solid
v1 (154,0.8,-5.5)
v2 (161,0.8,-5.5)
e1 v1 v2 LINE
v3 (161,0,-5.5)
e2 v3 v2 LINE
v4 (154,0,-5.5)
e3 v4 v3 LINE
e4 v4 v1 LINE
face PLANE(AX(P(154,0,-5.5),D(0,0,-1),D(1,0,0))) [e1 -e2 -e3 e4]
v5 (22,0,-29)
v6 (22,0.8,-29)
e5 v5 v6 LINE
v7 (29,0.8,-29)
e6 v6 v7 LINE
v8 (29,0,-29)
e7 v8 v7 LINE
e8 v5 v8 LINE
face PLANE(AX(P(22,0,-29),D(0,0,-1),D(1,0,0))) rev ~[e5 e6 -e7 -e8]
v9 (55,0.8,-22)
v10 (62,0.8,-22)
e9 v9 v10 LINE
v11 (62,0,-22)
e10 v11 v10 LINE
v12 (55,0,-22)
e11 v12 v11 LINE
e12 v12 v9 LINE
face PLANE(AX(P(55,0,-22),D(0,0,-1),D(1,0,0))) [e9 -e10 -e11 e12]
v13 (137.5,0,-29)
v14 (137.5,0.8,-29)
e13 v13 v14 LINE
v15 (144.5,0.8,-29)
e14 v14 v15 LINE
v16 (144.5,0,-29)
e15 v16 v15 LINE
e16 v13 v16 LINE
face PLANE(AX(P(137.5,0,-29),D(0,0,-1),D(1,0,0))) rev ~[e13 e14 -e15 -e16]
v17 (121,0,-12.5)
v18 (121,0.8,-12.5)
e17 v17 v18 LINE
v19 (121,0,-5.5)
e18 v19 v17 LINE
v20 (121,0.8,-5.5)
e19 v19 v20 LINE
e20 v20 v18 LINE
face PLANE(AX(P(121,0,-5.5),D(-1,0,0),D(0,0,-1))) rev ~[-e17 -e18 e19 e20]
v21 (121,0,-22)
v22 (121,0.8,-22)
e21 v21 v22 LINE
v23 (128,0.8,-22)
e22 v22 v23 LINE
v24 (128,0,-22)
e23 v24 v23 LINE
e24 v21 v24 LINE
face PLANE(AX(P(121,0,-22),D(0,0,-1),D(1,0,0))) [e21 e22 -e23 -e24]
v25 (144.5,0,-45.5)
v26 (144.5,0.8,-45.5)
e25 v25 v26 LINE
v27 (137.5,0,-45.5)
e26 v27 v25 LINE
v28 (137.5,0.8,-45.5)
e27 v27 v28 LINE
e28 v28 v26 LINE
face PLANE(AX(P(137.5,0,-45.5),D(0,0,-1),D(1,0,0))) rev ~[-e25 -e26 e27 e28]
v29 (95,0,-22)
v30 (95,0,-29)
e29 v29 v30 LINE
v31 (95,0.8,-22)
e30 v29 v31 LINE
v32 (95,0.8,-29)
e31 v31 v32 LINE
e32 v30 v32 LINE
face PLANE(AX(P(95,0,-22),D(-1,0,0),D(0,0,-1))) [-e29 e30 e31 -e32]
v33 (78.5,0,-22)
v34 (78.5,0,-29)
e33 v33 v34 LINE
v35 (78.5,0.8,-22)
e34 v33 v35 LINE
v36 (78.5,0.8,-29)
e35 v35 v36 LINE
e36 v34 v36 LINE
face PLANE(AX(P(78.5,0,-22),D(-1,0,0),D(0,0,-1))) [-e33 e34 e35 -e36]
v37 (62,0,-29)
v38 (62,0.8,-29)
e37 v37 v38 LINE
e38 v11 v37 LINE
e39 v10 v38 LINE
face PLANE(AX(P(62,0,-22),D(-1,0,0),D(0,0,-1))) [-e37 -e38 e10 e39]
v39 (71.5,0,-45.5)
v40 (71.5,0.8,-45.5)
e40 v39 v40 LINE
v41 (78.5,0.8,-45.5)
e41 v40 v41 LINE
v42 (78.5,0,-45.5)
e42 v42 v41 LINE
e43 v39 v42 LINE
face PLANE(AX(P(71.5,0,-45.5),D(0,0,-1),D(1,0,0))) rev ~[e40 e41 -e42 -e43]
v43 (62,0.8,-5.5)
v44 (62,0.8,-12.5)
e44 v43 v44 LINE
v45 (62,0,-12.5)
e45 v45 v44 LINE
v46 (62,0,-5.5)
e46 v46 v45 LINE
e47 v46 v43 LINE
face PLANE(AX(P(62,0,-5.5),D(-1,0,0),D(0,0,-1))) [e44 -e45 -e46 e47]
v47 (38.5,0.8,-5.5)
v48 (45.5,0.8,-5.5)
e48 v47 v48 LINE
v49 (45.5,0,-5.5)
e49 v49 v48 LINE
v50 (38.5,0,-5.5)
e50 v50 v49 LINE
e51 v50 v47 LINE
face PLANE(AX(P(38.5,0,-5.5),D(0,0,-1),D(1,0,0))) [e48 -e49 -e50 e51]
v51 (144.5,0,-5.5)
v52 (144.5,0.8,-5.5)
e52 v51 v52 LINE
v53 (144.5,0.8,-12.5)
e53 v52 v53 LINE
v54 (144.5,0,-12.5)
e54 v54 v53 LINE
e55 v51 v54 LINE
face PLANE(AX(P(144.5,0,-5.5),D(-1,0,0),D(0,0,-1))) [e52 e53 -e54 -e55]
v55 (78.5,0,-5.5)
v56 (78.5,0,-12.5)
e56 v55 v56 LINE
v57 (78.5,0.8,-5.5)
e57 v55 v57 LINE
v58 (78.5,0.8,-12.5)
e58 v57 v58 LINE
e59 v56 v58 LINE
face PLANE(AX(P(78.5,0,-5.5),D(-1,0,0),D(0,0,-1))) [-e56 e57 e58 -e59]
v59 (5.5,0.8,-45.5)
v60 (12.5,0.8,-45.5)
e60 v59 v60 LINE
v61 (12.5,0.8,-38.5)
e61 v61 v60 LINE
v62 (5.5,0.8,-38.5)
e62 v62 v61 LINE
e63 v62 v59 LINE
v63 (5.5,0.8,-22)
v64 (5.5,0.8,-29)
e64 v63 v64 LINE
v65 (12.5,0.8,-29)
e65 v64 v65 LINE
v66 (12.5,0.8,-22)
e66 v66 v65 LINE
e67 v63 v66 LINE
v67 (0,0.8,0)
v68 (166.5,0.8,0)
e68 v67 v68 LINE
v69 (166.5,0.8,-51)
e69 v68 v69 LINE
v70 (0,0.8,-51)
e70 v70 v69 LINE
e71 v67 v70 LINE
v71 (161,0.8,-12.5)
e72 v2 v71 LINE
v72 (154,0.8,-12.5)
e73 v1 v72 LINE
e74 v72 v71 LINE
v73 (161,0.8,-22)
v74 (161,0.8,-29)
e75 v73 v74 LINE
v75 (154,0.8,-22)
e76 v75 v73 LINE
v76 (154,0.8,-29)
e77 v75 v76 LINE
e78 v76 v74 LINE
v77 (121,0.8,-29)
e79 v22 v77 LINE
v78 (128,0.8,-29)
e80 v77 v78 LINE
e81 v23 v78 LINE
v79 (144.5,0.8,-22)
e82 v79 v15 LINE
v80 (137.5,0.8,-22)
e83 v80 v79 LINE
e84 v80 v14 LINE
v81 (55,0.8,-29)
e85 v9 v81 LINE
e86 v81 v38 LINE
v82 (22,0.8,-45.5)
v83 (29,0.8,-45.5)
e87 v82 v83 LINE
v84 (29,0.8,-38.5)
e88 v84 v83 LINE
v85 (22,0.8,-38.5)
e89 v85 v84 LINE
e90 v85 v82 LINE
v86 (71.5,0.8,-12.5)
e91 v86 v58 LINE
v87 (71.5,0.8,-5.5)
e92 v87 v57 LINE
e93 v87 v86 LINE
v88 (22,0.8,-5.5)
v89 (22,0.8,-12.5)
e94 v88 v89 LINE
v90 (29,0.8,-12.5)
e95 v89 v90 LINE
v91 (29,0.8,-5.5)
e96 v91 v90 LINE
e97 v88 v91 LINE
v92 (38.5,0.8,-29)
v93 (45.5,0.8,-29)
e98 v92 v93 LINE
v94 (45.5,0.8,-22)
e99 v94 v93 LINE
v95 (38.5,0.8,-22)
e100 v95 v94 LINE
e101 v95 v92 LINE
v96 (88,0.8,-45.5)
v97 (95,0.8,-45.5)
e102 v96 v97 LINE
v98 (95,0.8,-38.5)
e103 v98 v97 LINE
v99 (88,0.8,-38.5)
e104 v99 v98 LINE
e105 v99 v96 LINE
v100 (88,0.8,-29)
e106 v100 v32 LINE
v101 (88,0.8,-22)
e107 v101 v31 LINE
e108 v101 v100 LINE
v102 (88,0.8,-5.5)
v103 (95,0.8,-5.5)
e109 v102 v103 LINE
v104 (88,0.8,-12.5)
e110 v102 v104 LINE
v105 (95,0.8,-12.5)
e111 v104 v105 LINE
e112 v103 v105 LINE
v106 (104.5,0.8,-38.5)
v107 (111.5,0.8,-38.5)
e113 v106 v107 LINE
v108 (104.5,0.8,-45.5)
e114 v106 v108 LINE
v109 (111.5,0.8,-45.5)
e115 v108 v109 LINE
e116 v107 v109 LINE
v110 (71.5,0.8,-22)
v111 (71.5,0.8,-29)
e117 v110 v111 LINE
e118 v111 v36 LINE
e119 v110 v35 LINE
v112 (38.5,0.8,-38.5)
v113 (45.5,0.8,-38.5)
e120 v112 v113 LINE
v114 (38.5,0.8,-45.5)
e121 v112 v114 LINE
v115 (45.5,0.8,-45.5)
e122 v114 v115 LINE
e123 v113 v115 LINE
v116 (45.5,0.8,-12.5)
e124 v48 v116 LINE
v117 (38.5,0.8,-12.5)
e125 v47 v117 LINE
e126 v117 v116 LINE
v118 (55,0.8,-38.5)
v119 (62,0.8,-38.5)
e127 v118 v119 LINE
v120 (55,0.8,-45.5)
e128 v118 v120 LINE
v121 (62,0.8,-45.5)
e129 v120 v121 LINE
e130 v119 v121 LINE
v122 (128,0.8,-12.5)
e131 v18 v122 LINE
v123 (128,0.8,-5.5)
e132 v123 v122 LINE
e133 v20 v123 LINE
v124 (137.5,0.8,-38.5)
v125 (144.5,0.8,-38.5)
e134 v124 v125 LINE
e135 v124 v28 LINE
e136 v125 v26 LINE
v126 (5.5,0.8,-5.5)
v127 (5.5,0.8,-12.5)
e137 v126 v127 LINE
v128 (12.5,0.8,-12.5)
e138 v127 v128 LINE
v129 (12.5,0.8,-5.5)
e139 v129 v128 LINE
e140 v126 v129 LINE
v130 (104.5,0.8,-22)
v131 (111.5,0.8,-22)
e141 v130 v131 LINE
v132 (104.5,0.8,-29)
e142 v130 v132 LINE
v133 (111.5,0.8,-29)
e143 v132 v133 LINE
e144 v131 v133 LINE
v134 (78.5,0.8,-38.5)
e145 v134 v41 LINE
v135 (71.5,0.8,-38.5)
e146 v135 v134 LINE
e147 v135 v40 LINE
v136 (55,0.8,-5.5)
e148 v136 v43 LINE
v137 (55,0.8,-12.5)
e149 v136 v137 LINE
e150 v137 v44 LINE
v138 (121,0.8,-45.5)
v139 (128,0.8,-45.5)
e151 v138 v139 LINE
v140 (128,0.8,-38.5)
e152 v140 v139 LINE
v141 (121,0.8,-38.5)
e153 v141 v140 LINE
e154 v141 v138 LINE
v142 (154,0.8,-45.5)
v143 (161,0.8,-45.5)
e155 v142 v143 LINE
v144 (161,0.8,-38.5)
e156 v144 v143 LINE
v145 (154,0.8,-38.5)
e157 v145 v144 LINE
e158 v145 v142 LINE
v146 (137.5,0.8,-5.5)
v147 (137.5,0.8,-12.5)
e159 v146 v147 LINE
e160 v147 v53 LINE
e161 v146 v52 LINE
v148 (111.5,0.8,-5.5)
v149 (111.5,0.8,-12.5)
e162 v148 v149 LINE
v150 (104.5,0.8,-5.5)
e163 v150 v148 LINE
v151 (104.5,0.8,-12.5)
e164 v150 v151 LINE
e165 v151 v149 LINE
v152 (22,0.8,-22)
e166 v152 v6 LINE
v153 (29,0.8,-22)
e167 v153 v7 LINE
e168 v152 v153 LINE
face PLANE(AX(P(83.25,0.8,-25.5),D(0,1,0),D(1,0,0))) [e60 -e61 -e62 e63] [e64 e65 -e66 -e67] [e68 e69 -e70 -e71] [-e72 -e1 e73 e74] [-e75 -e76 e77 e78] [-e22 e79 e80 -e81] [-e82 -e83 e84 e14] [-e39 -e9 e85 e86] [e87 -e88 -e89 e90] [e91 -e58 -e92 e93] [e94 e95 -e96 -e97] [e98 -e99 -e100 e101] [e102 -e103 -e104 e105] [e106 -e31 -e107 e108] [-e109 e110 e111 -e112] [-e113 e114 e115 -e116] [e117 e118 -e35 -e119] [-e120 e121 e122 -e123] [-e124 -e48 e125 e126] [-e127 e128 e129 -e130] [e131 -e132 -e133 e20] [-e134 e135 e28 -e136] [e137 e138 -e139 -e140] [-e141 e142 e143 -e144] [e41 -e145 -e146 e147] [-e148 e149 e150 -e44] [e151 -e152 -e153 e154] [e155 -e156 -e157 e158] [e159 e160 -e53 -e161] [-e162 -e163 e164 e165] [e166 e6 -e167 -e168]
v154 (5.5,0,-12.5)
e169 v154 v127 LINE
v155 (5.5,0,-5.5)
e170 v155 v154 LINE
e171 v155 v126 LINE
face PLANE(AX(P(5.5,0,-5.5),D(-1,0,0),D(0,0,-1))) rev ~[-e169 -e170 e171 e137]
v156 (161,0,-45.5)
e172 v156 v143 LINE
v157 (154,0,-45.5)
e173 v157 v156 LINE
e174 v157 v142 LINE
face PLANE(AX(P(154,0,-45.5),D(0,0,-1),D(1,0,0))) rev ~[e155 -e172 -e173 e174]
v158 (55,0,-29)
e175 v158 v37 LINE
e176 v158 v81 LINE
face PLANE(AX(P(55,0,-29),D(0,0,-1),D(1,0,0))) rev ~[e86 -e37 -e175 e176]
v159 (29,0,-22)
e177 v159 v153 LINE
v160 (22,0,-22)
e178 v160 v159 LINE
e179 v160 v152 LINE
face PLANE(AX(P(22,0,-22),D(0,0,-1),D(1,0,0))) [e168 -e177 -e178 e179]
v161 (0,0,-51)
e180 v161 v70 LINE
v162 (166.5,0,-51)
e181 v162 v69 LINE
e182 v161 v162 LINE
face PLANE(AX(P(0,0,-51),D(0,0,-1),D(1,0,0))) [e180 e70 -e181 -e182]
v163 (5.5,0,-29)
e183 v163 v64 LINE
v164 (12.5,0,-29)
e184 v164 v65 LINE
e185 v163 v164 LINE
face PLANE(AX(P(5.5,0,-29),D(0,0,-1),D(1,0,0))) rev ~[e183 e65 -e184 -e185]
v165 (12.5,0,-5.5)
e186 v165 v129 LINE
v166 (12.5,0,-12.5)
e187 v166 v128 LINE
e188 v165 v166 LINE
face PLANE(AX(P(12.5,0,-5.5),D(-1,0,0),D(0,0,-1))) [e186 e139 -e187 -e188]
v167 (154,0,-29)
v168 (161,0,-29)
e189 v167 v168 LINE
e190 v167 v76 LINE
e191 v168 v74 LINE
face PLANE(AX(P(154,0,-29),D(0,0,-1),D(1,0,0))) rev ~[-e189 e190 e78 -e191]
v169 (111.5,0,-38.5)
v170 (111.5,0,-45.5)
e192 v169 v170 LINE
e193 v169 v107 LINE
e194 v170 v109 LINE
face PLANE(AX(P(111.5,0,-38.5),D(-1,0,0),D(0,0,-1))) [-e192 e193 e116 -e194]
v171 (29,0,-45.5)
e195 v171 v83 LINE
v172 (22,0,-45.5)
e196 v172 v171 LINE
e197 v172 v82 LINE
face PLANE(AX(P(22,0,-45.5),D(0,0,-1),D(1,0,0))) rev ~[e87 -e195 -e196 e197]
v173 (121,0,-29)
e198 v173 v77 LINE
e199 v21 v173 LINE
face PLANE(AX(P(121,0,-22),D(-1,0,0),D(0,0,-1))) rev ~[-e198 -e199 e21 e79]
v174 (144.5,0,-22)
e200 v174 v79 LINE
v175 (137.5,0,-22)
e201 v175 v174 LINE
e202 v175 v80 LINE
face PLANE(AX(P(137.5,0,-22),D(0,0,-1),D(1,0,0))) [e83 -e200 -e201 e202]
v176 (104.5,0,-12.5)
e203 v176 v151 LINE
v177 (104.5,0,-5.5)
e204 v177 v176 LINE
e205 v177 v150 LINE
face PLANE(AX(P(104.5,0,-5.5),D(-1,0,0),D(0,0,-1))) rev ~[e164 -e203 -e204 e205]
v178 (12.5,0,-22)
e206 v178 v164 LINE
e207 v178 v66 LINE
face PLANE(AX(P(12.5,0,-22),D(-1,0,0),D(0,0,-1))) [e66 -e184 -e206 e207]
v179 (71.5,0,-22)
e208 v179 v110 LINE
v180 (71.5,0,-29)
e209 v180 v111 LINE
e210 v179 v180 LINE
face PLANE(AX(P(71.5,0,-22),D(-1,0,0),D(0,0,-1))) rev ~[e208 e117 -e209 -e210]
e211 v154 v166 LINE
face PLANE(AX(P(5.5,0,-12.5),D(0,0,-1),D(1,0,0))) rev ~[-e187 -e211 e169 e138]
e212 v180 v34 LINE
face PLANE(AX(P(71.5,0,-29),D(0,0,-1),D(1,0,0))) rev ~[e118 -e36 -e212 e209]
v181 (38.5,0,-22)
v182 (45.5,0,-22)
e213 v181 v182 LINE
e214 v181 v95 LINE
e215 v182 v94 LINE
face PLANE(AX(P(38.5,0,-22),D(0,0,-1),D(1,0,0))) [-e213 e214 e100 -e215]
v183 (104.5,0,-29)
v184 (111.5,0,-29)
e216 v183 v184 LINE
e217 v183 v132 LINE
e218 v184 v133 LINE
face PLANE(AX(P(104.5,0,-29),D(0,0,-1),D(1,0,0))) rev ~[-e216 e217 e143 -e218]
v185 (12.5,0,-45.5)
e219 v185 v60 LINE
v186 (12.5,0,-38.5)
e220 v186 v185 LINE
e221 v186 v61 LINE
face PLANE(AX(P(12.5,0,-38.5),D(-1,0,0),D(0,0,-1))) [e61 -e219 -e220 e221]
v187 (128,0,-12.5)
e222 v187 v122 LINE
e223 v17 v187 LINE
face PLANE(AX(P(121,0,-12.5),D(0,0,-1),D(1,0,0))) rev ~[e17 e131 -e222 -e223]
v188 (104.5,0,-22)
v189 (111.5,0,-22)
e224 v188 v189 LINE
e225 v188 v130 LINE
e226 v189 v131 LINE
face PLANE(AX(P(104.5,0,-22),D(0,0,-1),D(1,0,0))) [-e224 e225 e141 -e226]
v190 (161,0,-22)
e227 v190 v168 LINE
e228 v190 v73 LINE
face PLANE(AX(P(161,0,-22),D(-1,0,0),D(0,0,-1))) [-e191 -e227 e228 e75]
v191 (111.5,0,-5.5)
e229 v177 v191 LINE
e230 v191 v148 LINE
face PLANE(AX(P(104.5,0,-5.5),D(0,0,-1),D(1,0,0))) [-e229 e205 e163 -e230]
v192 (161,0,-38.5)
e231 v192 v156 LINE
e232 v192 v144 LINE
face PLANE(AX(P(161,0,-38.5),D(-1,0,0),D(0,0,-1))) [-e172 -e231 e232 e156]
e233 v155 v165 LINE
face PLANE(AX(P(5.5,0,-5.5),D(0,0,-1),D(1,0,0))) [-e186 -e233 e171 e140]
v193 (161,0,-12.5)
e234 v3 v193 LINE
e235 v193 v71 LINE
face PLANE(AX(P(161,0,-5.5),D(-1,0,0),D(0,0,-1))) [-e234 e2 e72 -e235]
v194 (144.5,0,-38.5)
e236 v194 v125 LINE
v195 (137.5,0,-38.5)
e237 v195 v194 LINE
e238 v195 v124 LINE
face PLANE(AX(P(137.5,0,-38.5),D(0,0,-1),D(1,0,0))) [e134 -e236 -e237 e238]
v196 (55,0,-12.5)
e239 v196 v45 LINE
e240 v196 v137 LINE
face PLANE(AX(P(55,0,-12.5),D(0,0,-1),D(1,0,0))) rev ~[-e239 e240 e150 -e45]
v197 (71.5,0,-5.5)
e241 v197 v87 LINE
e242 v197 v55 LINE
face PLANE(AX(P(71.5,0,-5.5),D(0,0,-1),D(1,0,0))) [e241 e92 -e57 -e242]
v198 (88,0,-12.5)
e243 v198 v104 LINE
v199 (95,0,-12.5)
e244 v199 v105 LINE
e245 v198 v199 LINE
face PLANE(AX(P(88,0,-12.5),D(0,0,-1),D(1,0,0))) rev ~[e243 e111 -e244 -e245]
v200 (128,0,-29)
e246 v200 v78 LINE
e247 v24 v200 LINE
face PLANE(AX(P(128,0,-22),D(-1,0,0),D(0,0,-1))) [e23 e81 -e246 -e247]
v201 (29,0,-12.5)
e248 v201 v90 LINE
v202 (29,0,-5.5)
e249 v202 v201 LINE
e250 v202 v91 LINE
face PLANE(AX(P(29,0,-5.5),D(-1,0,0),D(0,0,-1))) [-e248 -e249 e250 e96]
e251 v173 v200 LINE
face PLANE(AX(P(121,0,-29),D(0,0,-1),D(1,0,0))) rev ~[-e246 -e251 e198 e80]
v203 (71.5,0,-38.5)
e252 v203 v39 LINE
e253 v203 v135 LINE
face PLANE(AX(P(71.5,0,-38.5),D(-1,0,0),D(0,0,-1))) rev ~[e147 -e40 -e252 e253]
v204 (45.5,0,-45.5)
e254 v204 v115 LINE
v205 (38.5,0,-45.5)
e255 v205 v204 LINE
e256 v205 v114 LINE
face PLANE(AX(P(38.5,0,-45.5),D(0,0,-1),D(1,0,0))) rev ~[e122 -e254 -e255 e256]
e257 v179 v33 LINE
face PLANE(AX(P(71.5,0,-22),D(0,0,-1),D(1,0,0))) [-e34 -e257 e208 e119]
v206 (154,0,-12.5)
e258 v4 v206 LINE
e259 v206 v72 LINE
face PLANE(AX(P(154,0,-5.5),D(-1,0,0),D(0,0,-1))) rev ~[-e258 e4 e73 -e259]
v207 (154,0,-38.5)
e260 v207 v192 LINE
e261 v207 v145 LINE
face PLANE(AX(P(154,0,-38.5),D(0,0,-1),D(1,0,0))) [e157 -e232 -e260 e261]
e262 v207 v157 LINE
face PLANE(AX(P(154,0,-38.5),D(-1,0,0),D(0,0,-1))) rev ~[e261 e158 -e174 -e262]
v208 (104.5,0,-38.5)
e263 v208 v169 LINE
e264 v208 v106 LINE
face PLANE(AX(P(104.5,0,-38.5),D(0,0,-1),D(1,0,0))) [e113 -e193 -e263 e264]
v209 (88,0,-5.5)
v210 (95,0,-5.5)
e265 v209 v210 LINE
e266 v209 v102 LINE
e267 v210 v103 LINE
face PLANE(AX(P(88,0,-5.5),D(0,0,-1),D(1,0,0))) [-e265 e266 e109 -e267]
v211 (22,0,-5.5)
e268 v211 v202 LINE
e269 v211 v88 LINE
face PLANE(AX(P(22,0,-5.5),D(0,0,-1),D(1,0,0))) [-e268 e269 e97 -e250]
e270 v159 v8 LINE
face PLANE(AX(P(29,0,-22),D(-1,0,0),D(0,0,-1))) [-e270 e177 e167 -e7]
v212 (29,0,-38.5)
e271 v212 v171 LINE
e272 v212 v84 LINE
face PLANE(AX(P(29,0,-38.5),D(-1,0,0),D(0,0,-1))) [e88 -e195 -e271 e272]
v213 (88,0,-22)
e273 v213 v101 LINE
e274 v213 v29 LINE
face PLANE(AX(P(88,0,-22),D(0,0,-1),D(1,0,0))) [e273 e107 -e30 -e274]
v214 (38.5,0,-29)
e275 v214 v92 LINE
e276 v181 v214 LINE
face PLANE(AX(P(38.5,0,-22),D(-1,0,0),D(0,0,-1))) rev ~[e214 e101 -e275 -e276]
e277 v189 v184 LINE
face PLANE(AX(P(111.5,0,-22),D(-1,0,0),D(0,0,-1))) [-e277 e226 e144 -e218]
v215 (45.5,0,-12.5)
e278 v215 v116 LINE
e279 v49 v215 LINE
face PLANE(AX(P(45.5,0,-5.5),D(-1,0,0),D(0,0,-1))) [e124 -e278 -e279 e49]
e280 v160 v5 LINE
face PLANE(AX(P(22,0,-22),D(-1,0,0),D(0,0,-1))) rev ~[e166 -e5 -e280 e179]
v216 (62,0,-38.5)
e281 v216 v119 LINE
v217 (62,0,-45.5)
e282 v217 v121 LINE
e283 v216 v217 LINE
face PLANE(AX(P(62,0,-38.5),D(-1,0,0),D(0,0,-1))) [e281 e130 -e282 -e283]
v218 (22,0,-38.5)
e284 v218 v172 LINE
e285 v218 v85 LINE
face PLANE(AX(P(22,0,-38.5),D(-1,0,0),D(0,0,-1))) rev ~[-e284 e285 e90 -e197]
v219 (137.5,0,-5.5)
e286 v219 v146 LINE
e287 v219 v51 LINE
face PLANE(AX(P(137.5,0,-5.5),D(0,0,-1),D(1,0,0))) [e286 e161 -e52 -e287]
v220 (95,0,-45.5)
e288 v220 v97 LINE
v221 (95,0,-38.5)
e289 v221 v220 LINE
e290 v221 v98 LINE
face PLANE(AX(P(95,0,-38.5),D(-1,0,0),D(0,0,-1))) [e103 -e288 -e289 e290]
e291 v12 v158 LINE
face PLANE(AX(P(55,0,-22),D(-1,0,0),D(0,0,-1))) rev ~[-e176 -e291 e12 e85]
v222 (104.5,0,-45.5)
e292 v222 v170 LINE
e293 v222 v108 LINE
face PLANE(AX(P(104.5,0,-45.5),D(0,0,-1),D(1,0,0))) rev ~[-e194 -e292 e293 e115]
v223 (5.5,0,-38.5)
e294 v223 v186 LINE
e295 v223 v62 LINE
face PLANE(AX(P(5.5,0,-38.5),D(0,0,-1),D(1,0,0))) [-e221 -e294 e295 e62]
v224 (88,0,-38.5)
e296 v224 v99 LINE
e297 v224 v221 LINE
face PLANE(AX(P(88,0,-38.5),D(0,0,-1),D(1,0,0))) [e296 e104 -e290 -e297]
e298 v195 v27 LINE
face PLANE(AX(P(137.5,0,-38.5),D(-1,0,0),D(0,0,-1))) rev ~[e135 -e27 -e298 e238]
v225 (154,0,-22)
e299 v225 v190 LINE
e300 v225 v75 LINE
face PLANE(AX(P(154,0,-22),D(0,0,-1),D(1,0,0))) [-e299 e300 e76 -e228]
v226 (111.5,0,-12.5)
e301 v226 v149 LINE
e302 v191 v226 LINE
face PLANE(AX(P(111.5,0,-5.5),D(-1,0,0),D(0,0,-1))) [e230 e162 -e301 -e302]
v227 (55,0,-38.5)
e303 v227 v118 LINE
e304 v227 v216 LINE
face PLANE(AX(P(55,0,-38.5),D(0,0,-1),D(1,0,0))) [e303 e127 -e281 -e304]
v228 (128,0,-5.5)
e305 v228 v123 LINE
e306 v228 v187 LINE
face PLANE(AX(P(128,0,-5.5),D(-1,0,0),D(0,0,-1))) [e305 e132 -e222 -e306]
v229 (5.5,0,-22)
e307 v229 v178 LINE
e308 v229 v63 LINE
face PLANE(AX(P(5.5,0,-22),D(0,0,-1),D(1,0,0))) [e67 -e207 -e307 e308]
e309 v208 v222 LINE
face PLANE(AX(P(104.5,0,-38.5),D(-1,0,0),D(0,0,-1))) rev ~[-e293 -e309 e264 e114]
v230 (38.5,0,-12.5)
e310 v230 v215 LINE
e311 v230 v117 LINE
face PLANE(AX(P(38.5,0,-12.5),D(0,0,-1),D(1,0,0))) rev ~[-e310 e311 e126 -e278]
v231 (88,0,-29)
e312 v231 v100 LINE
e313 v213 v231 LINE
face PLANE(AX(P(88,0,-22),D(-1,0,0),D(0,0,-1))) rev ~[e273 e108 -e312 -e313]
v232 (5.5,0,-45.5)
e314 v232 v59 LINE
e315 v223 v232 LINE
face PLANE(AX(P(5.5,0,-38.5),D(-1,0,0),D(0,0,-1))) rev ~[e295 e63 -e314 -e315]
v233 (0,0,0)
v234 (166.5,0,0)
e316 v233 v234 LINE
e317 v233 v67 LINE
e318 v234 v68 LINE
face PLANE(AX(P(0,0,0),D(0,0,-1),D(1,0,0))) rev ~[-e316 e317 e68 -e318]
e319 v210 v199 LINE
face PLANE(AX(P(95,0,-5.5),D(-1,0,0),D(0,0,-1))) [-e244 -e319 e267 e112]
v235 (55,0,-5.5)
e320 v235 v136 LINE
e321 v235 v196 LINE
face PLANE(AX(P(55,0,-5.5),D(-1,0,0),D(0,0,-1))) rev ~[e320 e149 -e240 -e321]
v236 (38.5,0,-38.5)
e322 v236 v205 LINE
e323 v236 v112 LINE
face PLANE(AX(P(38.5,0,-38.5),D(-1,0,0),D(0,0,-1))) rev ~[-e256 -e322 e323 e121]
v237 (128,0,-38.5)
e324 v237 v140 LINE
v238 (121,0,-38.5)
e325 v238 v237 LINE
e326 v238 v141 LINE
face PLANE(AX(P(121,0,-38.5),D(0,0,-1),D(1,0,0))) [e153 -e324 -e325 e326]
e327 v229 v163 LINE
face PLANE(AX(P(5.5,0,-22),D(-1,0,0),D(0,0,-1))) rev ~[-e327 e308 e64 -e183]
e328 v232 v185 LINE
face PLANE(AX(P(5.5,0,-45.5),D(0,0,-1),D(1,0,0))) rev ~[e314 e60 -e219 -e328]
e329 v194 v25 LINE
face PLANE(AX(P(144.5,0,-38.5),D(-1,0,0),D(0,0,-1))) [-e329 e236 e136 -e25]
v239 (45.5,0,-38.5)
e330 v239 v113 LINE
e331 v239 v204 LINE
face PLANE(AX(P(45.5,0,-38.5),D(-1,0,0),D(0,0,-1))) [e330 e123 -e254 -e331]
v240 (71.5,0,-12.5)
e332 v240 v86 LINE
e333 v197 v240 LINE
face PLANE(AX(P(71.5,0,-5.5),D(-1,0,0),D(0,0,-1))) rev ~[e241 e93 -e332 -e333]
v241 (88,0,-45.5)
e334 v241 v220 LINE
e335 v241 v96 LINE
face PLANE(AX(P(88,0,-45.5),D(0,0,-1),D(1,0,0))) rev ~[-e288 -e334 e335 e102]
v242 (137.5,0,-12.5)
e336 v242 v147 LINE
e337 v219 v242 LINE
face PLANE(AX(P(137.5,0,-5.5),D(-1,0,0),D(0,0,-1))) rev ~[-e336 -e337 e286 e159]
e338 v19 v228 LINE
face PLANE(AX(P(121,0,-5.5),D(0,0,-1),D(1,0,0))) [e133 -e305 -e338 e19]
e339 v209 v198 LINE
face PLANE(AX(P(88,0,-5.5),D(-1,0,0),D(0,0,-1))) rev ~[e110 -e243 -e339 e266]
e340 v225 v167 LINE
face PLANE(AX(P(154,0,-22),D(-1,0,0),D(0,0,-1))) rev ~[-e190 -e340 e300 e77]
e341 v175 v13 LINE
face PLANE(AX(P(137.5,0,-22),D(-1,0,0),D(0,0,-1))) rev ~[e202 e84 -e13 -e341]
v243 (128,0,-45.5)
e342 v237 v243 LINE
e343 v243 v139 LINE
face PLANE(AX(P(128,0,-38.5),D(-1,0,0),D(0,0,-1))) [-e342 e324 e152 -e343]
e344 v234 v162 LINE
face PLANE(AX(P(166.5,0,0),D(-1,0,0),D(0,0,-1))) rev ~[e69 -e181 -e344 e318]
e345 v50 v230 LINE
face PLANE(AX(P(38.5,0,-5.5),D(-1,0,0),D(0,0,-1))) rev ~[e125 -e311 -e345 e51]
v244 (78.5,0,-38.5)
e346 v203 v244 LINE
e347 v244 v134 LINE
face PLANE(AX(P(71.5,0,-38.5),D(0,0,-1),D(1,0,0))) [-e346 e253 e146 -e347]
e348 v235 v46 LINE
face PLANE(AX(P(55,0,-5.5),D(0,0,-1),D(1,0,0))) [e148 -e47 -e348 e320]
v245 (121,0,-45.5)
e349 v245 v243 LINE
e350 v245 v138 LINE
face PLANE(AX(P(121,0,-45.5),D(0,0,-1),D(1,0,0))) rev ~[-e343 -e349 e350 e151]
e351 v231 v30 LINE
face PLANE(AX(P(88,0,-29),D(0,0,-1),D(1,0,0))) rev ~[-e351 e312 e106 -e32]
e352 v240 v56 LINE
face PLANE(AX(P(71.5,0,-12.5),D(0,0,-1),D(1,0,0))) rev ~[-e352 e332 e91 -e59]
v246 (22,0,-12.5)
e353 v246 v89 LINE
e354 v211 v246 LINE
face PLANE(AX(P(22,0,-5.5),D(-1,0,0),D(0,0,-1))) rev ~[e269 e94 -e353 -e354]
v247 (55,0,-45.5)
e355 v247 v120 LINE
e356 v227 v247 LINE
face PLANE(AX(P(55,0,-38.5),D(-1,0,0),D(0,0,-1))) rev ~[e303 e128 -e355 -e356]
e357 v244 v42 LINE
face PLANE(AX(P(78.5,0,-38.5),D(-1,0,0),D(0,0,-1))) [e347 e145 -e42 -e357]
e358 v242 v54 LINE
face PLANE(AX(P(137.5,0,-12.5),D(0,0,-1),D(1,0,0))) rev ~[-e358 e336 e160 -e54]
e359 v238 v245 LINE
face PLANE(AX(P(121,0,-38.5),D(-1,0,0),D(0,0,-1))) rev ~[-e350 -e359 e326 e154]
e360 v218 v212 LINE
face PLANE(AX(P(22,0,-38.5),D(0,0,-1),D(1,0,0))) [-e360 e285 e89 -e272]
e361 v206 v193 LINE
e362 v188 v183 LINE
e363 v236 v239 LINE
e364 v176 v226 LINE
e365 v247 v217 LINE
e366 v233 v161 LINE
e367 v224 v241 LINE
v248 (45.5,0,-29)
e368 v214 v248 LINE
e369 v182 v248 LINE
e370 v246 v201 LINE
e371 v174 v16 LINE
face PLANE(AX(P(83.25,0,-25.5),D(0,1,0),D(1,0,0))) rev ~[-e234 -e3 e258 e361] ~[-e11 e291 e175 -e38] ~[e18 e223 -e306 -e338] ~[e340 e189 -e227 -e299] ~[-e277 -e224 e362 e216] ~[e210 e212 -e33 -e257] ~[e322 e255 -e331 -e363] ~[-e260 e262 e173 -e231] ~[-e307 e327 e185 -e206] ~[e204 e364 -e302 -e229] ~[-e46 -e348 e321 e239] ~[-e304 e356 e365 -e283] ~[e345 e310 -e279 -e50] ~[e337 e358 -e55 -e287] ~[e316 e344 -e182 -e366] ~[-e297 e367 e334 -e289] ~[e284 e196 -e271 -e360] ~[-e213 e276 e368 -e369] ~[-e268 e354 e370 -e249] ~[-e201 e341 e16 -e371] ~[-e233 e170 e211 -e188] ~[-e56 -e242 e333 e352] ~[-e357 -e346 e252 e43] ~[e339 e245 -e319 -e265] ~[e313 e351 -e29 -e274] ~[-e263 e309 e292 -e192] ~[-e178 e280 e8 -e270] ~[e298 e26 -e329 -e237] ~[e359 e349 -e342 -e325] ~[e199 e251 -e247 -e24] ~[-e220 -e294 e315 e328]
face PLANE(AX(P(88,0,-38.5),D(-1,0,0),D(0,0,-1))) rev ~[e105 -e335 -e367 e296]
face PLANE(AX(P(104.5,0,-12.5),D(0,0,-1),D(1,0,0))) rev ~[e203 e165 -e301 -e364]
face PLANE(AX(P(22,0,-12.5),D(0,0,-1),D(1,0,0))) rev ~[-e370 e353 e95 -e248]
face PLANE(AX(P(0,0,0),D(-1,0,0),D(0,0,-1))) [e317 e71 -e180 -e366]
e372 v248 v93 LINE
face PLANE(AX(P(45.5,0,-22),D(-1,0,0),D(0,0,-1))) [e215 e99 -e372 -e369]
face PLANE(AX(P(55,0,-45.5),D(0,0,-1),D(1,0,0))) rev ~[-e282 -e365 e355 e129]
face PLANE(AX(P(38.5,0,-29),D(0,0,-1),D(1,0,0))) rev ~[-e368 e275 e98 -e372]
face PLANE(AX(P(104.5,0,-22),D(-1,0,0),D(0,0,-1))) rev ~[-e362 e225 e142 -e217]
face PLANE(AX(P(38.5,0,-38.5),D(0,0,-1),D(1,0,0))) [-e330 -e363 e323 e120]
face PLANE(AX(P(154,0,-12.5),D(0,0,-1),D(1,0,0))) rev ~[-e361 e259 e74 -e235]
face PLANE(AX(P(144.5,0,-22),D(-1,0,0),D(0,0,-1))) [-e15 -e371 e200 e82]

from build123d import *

# Parameters (mm, degrees)
IZIM1_W                     = 166.5
IZIM1_H                     = 51
IZIM1_W_2                   = 7
IZIM1_H_2                   = 7
Y_KSEKLIK_EKSTR_ZYON1_DEPTH = 0.8


with BuildPart() as part:
    # Çizim1 → Yükseklik-Ekstrüzyon1 (new body)
    with BuildSketch(Plane(origin=(0, 0, 0), x_dir=(1, 0, 0), z_dir=(0, 1, 0))):
        with Locations((83.25, 25.5)):
            Rectangle(IZIM1_W, IZIM1_H)
        with Locations((25.5, 42)):
            Rectangle(IZIM1_W_2, IZIM1_H_2, mode=Mode.SUBTRACT)
        with Locations((9, 42)):
            Rectangle(IZIM1_W_2, IZIM1_H_2, mode=Mode.SUBTRACT)
        with Locations((42, 42)):
            Rectangle(IZIM1_W_2, IZIM1_H_2, mode=Mode.SUBTRACT)
        with Locations((58.5, 42)):
            Rectangle(IZIM1_W_2, IZIM1_H_2, mode=Mode.SUBTRACT)
        with Locations((75, 42)):
            Rectangle(IZIM1_W_2, IZIM1_H_2, mode=Mode.SUBTRACT)
        with Locations((91.5, 42)):
            Rectangle(IZIM1_W_2, IZIM1_H_2, mode=Mode.SUBTRACT)
        with Locations((108, 42)):
            Rectangle(IZIM1_W_2, IZIM1_H_2, mode=Mode.SUBTRACT)
        with Locations((124.5, 42)):
            Rectangle(IZIM1_W_2, IZIM1_H_2, mode=Mode.SUBTRACT)
        with Locations((141, 42)):
            Rectangle(IZIM1_W_2, IZIM1_H_2, mode=Mode.SUBTRACT)
        with Locations((157.5, 42)):
            Rectangle(IZIM1_W_2, IZIM1_H_2, mode=Mode.SUBTRACT)
        with Locations((25.5, 25.5)):
            Rectangle(IZIM1_W_2, IZIM1_H_2, mode=Mode.SUBTRACT)
        with Locations((42, 25.5)):
            Rectangle(IZIM1_W_2, IZIM1_H_2, mode=Mode.SUBTRACT)
        with Locations((58.5, 25.5)):
            Rectangle(IZIM1_W_2, IZIM1_H_2, mode=Mode.SUBTRACT)
        with Locations((75, 25.5)):
            Rectangle(IZIM1_W_2, IZIM1_H_2, mode=Mode.SUBTRACT)
        with Locations((91.5, 25.5)):
            Rectangle(IZIM1_W_2, IZIM1_H_2, mode=Mode.SUBTRACT)
        with Locations((108, 25.5)):
            Rectangle(IZIM1_W_2, IZIM1_H_2, mode=Mode.SUBTRACT)
        with Locations((124.5, 25.5)):
            Rectangle(IZIM1_W_2, IZIM1_H_2, mode=Mode.SUBTRACT)
        with Locations((141, 25.5)):
            Rectangle(IZIM1_W_2, IZIM1_H_2, mode=Mode.SUBTRACT)
        with Locations((157.5, 25.5)):
            Rectangle(IZIM1_W_2, IZIM1_H_2, mode=Mode.SUBTRACT)
        with Locations((25.5, 9)):
            Rectangle(IZIM1_W_2, IZIM1_H_2, mode=Mode.SUBTRACT)
        with Locations((42, 9)):
            Rectangle(IZIM1_W_2, IZIM1_H_2, mode=Mode.SUBTRACT)
        with Locations((58.5, 9)):
            Rectangle(IZIM1_W_2, IZIM1_H_2, mode=Mode.SUBTRACT)
        with Locations((75, 9)):
            Rectangle(IZIM1_W_2, IZIM1_H_2, mode=Mode.SUBTRACT)
        with Locations((91.5, 9)):
            Rectangle(IZIM1_W_2, IZIM1_H_2, mode=Mode.SUBTRACT)
        with Locations((108, 9)):
            Rectangle(IZIM1_W_2, IZIM1_H_2, mode=Mode.SUBTRACT)
        with Locations((124.5, 9)):
            Rectangle(IZIM1_W_2, IZIM1_H_2, mode=Mode.SUBTRACT)
        with Locations((141, 9)):
            Rectangle(IZIM1_W_2, IZIM1_H_2, mode=Mode.SUBTRACT)
        with Locations((157.5, 9)):
            Rectangle(IZIM1_W_2, IZIM1_H_2, mode=Mode.SUBTRACT)
        with Locations((9, 25.5)):
            Rectangle(IZIM1_W_2, IZIM1_H_2, mode=Mode.SUBTRACT)
        with Locations((9, 9)):
            Rectangle(IZIM1_W_2, IZIM1_H_2, mode=Mode.SUBTRACT)
    extrude(amount=Y_KSEKLIK_EKSTR_ZYON1_DEPTH)


solid = part.part
